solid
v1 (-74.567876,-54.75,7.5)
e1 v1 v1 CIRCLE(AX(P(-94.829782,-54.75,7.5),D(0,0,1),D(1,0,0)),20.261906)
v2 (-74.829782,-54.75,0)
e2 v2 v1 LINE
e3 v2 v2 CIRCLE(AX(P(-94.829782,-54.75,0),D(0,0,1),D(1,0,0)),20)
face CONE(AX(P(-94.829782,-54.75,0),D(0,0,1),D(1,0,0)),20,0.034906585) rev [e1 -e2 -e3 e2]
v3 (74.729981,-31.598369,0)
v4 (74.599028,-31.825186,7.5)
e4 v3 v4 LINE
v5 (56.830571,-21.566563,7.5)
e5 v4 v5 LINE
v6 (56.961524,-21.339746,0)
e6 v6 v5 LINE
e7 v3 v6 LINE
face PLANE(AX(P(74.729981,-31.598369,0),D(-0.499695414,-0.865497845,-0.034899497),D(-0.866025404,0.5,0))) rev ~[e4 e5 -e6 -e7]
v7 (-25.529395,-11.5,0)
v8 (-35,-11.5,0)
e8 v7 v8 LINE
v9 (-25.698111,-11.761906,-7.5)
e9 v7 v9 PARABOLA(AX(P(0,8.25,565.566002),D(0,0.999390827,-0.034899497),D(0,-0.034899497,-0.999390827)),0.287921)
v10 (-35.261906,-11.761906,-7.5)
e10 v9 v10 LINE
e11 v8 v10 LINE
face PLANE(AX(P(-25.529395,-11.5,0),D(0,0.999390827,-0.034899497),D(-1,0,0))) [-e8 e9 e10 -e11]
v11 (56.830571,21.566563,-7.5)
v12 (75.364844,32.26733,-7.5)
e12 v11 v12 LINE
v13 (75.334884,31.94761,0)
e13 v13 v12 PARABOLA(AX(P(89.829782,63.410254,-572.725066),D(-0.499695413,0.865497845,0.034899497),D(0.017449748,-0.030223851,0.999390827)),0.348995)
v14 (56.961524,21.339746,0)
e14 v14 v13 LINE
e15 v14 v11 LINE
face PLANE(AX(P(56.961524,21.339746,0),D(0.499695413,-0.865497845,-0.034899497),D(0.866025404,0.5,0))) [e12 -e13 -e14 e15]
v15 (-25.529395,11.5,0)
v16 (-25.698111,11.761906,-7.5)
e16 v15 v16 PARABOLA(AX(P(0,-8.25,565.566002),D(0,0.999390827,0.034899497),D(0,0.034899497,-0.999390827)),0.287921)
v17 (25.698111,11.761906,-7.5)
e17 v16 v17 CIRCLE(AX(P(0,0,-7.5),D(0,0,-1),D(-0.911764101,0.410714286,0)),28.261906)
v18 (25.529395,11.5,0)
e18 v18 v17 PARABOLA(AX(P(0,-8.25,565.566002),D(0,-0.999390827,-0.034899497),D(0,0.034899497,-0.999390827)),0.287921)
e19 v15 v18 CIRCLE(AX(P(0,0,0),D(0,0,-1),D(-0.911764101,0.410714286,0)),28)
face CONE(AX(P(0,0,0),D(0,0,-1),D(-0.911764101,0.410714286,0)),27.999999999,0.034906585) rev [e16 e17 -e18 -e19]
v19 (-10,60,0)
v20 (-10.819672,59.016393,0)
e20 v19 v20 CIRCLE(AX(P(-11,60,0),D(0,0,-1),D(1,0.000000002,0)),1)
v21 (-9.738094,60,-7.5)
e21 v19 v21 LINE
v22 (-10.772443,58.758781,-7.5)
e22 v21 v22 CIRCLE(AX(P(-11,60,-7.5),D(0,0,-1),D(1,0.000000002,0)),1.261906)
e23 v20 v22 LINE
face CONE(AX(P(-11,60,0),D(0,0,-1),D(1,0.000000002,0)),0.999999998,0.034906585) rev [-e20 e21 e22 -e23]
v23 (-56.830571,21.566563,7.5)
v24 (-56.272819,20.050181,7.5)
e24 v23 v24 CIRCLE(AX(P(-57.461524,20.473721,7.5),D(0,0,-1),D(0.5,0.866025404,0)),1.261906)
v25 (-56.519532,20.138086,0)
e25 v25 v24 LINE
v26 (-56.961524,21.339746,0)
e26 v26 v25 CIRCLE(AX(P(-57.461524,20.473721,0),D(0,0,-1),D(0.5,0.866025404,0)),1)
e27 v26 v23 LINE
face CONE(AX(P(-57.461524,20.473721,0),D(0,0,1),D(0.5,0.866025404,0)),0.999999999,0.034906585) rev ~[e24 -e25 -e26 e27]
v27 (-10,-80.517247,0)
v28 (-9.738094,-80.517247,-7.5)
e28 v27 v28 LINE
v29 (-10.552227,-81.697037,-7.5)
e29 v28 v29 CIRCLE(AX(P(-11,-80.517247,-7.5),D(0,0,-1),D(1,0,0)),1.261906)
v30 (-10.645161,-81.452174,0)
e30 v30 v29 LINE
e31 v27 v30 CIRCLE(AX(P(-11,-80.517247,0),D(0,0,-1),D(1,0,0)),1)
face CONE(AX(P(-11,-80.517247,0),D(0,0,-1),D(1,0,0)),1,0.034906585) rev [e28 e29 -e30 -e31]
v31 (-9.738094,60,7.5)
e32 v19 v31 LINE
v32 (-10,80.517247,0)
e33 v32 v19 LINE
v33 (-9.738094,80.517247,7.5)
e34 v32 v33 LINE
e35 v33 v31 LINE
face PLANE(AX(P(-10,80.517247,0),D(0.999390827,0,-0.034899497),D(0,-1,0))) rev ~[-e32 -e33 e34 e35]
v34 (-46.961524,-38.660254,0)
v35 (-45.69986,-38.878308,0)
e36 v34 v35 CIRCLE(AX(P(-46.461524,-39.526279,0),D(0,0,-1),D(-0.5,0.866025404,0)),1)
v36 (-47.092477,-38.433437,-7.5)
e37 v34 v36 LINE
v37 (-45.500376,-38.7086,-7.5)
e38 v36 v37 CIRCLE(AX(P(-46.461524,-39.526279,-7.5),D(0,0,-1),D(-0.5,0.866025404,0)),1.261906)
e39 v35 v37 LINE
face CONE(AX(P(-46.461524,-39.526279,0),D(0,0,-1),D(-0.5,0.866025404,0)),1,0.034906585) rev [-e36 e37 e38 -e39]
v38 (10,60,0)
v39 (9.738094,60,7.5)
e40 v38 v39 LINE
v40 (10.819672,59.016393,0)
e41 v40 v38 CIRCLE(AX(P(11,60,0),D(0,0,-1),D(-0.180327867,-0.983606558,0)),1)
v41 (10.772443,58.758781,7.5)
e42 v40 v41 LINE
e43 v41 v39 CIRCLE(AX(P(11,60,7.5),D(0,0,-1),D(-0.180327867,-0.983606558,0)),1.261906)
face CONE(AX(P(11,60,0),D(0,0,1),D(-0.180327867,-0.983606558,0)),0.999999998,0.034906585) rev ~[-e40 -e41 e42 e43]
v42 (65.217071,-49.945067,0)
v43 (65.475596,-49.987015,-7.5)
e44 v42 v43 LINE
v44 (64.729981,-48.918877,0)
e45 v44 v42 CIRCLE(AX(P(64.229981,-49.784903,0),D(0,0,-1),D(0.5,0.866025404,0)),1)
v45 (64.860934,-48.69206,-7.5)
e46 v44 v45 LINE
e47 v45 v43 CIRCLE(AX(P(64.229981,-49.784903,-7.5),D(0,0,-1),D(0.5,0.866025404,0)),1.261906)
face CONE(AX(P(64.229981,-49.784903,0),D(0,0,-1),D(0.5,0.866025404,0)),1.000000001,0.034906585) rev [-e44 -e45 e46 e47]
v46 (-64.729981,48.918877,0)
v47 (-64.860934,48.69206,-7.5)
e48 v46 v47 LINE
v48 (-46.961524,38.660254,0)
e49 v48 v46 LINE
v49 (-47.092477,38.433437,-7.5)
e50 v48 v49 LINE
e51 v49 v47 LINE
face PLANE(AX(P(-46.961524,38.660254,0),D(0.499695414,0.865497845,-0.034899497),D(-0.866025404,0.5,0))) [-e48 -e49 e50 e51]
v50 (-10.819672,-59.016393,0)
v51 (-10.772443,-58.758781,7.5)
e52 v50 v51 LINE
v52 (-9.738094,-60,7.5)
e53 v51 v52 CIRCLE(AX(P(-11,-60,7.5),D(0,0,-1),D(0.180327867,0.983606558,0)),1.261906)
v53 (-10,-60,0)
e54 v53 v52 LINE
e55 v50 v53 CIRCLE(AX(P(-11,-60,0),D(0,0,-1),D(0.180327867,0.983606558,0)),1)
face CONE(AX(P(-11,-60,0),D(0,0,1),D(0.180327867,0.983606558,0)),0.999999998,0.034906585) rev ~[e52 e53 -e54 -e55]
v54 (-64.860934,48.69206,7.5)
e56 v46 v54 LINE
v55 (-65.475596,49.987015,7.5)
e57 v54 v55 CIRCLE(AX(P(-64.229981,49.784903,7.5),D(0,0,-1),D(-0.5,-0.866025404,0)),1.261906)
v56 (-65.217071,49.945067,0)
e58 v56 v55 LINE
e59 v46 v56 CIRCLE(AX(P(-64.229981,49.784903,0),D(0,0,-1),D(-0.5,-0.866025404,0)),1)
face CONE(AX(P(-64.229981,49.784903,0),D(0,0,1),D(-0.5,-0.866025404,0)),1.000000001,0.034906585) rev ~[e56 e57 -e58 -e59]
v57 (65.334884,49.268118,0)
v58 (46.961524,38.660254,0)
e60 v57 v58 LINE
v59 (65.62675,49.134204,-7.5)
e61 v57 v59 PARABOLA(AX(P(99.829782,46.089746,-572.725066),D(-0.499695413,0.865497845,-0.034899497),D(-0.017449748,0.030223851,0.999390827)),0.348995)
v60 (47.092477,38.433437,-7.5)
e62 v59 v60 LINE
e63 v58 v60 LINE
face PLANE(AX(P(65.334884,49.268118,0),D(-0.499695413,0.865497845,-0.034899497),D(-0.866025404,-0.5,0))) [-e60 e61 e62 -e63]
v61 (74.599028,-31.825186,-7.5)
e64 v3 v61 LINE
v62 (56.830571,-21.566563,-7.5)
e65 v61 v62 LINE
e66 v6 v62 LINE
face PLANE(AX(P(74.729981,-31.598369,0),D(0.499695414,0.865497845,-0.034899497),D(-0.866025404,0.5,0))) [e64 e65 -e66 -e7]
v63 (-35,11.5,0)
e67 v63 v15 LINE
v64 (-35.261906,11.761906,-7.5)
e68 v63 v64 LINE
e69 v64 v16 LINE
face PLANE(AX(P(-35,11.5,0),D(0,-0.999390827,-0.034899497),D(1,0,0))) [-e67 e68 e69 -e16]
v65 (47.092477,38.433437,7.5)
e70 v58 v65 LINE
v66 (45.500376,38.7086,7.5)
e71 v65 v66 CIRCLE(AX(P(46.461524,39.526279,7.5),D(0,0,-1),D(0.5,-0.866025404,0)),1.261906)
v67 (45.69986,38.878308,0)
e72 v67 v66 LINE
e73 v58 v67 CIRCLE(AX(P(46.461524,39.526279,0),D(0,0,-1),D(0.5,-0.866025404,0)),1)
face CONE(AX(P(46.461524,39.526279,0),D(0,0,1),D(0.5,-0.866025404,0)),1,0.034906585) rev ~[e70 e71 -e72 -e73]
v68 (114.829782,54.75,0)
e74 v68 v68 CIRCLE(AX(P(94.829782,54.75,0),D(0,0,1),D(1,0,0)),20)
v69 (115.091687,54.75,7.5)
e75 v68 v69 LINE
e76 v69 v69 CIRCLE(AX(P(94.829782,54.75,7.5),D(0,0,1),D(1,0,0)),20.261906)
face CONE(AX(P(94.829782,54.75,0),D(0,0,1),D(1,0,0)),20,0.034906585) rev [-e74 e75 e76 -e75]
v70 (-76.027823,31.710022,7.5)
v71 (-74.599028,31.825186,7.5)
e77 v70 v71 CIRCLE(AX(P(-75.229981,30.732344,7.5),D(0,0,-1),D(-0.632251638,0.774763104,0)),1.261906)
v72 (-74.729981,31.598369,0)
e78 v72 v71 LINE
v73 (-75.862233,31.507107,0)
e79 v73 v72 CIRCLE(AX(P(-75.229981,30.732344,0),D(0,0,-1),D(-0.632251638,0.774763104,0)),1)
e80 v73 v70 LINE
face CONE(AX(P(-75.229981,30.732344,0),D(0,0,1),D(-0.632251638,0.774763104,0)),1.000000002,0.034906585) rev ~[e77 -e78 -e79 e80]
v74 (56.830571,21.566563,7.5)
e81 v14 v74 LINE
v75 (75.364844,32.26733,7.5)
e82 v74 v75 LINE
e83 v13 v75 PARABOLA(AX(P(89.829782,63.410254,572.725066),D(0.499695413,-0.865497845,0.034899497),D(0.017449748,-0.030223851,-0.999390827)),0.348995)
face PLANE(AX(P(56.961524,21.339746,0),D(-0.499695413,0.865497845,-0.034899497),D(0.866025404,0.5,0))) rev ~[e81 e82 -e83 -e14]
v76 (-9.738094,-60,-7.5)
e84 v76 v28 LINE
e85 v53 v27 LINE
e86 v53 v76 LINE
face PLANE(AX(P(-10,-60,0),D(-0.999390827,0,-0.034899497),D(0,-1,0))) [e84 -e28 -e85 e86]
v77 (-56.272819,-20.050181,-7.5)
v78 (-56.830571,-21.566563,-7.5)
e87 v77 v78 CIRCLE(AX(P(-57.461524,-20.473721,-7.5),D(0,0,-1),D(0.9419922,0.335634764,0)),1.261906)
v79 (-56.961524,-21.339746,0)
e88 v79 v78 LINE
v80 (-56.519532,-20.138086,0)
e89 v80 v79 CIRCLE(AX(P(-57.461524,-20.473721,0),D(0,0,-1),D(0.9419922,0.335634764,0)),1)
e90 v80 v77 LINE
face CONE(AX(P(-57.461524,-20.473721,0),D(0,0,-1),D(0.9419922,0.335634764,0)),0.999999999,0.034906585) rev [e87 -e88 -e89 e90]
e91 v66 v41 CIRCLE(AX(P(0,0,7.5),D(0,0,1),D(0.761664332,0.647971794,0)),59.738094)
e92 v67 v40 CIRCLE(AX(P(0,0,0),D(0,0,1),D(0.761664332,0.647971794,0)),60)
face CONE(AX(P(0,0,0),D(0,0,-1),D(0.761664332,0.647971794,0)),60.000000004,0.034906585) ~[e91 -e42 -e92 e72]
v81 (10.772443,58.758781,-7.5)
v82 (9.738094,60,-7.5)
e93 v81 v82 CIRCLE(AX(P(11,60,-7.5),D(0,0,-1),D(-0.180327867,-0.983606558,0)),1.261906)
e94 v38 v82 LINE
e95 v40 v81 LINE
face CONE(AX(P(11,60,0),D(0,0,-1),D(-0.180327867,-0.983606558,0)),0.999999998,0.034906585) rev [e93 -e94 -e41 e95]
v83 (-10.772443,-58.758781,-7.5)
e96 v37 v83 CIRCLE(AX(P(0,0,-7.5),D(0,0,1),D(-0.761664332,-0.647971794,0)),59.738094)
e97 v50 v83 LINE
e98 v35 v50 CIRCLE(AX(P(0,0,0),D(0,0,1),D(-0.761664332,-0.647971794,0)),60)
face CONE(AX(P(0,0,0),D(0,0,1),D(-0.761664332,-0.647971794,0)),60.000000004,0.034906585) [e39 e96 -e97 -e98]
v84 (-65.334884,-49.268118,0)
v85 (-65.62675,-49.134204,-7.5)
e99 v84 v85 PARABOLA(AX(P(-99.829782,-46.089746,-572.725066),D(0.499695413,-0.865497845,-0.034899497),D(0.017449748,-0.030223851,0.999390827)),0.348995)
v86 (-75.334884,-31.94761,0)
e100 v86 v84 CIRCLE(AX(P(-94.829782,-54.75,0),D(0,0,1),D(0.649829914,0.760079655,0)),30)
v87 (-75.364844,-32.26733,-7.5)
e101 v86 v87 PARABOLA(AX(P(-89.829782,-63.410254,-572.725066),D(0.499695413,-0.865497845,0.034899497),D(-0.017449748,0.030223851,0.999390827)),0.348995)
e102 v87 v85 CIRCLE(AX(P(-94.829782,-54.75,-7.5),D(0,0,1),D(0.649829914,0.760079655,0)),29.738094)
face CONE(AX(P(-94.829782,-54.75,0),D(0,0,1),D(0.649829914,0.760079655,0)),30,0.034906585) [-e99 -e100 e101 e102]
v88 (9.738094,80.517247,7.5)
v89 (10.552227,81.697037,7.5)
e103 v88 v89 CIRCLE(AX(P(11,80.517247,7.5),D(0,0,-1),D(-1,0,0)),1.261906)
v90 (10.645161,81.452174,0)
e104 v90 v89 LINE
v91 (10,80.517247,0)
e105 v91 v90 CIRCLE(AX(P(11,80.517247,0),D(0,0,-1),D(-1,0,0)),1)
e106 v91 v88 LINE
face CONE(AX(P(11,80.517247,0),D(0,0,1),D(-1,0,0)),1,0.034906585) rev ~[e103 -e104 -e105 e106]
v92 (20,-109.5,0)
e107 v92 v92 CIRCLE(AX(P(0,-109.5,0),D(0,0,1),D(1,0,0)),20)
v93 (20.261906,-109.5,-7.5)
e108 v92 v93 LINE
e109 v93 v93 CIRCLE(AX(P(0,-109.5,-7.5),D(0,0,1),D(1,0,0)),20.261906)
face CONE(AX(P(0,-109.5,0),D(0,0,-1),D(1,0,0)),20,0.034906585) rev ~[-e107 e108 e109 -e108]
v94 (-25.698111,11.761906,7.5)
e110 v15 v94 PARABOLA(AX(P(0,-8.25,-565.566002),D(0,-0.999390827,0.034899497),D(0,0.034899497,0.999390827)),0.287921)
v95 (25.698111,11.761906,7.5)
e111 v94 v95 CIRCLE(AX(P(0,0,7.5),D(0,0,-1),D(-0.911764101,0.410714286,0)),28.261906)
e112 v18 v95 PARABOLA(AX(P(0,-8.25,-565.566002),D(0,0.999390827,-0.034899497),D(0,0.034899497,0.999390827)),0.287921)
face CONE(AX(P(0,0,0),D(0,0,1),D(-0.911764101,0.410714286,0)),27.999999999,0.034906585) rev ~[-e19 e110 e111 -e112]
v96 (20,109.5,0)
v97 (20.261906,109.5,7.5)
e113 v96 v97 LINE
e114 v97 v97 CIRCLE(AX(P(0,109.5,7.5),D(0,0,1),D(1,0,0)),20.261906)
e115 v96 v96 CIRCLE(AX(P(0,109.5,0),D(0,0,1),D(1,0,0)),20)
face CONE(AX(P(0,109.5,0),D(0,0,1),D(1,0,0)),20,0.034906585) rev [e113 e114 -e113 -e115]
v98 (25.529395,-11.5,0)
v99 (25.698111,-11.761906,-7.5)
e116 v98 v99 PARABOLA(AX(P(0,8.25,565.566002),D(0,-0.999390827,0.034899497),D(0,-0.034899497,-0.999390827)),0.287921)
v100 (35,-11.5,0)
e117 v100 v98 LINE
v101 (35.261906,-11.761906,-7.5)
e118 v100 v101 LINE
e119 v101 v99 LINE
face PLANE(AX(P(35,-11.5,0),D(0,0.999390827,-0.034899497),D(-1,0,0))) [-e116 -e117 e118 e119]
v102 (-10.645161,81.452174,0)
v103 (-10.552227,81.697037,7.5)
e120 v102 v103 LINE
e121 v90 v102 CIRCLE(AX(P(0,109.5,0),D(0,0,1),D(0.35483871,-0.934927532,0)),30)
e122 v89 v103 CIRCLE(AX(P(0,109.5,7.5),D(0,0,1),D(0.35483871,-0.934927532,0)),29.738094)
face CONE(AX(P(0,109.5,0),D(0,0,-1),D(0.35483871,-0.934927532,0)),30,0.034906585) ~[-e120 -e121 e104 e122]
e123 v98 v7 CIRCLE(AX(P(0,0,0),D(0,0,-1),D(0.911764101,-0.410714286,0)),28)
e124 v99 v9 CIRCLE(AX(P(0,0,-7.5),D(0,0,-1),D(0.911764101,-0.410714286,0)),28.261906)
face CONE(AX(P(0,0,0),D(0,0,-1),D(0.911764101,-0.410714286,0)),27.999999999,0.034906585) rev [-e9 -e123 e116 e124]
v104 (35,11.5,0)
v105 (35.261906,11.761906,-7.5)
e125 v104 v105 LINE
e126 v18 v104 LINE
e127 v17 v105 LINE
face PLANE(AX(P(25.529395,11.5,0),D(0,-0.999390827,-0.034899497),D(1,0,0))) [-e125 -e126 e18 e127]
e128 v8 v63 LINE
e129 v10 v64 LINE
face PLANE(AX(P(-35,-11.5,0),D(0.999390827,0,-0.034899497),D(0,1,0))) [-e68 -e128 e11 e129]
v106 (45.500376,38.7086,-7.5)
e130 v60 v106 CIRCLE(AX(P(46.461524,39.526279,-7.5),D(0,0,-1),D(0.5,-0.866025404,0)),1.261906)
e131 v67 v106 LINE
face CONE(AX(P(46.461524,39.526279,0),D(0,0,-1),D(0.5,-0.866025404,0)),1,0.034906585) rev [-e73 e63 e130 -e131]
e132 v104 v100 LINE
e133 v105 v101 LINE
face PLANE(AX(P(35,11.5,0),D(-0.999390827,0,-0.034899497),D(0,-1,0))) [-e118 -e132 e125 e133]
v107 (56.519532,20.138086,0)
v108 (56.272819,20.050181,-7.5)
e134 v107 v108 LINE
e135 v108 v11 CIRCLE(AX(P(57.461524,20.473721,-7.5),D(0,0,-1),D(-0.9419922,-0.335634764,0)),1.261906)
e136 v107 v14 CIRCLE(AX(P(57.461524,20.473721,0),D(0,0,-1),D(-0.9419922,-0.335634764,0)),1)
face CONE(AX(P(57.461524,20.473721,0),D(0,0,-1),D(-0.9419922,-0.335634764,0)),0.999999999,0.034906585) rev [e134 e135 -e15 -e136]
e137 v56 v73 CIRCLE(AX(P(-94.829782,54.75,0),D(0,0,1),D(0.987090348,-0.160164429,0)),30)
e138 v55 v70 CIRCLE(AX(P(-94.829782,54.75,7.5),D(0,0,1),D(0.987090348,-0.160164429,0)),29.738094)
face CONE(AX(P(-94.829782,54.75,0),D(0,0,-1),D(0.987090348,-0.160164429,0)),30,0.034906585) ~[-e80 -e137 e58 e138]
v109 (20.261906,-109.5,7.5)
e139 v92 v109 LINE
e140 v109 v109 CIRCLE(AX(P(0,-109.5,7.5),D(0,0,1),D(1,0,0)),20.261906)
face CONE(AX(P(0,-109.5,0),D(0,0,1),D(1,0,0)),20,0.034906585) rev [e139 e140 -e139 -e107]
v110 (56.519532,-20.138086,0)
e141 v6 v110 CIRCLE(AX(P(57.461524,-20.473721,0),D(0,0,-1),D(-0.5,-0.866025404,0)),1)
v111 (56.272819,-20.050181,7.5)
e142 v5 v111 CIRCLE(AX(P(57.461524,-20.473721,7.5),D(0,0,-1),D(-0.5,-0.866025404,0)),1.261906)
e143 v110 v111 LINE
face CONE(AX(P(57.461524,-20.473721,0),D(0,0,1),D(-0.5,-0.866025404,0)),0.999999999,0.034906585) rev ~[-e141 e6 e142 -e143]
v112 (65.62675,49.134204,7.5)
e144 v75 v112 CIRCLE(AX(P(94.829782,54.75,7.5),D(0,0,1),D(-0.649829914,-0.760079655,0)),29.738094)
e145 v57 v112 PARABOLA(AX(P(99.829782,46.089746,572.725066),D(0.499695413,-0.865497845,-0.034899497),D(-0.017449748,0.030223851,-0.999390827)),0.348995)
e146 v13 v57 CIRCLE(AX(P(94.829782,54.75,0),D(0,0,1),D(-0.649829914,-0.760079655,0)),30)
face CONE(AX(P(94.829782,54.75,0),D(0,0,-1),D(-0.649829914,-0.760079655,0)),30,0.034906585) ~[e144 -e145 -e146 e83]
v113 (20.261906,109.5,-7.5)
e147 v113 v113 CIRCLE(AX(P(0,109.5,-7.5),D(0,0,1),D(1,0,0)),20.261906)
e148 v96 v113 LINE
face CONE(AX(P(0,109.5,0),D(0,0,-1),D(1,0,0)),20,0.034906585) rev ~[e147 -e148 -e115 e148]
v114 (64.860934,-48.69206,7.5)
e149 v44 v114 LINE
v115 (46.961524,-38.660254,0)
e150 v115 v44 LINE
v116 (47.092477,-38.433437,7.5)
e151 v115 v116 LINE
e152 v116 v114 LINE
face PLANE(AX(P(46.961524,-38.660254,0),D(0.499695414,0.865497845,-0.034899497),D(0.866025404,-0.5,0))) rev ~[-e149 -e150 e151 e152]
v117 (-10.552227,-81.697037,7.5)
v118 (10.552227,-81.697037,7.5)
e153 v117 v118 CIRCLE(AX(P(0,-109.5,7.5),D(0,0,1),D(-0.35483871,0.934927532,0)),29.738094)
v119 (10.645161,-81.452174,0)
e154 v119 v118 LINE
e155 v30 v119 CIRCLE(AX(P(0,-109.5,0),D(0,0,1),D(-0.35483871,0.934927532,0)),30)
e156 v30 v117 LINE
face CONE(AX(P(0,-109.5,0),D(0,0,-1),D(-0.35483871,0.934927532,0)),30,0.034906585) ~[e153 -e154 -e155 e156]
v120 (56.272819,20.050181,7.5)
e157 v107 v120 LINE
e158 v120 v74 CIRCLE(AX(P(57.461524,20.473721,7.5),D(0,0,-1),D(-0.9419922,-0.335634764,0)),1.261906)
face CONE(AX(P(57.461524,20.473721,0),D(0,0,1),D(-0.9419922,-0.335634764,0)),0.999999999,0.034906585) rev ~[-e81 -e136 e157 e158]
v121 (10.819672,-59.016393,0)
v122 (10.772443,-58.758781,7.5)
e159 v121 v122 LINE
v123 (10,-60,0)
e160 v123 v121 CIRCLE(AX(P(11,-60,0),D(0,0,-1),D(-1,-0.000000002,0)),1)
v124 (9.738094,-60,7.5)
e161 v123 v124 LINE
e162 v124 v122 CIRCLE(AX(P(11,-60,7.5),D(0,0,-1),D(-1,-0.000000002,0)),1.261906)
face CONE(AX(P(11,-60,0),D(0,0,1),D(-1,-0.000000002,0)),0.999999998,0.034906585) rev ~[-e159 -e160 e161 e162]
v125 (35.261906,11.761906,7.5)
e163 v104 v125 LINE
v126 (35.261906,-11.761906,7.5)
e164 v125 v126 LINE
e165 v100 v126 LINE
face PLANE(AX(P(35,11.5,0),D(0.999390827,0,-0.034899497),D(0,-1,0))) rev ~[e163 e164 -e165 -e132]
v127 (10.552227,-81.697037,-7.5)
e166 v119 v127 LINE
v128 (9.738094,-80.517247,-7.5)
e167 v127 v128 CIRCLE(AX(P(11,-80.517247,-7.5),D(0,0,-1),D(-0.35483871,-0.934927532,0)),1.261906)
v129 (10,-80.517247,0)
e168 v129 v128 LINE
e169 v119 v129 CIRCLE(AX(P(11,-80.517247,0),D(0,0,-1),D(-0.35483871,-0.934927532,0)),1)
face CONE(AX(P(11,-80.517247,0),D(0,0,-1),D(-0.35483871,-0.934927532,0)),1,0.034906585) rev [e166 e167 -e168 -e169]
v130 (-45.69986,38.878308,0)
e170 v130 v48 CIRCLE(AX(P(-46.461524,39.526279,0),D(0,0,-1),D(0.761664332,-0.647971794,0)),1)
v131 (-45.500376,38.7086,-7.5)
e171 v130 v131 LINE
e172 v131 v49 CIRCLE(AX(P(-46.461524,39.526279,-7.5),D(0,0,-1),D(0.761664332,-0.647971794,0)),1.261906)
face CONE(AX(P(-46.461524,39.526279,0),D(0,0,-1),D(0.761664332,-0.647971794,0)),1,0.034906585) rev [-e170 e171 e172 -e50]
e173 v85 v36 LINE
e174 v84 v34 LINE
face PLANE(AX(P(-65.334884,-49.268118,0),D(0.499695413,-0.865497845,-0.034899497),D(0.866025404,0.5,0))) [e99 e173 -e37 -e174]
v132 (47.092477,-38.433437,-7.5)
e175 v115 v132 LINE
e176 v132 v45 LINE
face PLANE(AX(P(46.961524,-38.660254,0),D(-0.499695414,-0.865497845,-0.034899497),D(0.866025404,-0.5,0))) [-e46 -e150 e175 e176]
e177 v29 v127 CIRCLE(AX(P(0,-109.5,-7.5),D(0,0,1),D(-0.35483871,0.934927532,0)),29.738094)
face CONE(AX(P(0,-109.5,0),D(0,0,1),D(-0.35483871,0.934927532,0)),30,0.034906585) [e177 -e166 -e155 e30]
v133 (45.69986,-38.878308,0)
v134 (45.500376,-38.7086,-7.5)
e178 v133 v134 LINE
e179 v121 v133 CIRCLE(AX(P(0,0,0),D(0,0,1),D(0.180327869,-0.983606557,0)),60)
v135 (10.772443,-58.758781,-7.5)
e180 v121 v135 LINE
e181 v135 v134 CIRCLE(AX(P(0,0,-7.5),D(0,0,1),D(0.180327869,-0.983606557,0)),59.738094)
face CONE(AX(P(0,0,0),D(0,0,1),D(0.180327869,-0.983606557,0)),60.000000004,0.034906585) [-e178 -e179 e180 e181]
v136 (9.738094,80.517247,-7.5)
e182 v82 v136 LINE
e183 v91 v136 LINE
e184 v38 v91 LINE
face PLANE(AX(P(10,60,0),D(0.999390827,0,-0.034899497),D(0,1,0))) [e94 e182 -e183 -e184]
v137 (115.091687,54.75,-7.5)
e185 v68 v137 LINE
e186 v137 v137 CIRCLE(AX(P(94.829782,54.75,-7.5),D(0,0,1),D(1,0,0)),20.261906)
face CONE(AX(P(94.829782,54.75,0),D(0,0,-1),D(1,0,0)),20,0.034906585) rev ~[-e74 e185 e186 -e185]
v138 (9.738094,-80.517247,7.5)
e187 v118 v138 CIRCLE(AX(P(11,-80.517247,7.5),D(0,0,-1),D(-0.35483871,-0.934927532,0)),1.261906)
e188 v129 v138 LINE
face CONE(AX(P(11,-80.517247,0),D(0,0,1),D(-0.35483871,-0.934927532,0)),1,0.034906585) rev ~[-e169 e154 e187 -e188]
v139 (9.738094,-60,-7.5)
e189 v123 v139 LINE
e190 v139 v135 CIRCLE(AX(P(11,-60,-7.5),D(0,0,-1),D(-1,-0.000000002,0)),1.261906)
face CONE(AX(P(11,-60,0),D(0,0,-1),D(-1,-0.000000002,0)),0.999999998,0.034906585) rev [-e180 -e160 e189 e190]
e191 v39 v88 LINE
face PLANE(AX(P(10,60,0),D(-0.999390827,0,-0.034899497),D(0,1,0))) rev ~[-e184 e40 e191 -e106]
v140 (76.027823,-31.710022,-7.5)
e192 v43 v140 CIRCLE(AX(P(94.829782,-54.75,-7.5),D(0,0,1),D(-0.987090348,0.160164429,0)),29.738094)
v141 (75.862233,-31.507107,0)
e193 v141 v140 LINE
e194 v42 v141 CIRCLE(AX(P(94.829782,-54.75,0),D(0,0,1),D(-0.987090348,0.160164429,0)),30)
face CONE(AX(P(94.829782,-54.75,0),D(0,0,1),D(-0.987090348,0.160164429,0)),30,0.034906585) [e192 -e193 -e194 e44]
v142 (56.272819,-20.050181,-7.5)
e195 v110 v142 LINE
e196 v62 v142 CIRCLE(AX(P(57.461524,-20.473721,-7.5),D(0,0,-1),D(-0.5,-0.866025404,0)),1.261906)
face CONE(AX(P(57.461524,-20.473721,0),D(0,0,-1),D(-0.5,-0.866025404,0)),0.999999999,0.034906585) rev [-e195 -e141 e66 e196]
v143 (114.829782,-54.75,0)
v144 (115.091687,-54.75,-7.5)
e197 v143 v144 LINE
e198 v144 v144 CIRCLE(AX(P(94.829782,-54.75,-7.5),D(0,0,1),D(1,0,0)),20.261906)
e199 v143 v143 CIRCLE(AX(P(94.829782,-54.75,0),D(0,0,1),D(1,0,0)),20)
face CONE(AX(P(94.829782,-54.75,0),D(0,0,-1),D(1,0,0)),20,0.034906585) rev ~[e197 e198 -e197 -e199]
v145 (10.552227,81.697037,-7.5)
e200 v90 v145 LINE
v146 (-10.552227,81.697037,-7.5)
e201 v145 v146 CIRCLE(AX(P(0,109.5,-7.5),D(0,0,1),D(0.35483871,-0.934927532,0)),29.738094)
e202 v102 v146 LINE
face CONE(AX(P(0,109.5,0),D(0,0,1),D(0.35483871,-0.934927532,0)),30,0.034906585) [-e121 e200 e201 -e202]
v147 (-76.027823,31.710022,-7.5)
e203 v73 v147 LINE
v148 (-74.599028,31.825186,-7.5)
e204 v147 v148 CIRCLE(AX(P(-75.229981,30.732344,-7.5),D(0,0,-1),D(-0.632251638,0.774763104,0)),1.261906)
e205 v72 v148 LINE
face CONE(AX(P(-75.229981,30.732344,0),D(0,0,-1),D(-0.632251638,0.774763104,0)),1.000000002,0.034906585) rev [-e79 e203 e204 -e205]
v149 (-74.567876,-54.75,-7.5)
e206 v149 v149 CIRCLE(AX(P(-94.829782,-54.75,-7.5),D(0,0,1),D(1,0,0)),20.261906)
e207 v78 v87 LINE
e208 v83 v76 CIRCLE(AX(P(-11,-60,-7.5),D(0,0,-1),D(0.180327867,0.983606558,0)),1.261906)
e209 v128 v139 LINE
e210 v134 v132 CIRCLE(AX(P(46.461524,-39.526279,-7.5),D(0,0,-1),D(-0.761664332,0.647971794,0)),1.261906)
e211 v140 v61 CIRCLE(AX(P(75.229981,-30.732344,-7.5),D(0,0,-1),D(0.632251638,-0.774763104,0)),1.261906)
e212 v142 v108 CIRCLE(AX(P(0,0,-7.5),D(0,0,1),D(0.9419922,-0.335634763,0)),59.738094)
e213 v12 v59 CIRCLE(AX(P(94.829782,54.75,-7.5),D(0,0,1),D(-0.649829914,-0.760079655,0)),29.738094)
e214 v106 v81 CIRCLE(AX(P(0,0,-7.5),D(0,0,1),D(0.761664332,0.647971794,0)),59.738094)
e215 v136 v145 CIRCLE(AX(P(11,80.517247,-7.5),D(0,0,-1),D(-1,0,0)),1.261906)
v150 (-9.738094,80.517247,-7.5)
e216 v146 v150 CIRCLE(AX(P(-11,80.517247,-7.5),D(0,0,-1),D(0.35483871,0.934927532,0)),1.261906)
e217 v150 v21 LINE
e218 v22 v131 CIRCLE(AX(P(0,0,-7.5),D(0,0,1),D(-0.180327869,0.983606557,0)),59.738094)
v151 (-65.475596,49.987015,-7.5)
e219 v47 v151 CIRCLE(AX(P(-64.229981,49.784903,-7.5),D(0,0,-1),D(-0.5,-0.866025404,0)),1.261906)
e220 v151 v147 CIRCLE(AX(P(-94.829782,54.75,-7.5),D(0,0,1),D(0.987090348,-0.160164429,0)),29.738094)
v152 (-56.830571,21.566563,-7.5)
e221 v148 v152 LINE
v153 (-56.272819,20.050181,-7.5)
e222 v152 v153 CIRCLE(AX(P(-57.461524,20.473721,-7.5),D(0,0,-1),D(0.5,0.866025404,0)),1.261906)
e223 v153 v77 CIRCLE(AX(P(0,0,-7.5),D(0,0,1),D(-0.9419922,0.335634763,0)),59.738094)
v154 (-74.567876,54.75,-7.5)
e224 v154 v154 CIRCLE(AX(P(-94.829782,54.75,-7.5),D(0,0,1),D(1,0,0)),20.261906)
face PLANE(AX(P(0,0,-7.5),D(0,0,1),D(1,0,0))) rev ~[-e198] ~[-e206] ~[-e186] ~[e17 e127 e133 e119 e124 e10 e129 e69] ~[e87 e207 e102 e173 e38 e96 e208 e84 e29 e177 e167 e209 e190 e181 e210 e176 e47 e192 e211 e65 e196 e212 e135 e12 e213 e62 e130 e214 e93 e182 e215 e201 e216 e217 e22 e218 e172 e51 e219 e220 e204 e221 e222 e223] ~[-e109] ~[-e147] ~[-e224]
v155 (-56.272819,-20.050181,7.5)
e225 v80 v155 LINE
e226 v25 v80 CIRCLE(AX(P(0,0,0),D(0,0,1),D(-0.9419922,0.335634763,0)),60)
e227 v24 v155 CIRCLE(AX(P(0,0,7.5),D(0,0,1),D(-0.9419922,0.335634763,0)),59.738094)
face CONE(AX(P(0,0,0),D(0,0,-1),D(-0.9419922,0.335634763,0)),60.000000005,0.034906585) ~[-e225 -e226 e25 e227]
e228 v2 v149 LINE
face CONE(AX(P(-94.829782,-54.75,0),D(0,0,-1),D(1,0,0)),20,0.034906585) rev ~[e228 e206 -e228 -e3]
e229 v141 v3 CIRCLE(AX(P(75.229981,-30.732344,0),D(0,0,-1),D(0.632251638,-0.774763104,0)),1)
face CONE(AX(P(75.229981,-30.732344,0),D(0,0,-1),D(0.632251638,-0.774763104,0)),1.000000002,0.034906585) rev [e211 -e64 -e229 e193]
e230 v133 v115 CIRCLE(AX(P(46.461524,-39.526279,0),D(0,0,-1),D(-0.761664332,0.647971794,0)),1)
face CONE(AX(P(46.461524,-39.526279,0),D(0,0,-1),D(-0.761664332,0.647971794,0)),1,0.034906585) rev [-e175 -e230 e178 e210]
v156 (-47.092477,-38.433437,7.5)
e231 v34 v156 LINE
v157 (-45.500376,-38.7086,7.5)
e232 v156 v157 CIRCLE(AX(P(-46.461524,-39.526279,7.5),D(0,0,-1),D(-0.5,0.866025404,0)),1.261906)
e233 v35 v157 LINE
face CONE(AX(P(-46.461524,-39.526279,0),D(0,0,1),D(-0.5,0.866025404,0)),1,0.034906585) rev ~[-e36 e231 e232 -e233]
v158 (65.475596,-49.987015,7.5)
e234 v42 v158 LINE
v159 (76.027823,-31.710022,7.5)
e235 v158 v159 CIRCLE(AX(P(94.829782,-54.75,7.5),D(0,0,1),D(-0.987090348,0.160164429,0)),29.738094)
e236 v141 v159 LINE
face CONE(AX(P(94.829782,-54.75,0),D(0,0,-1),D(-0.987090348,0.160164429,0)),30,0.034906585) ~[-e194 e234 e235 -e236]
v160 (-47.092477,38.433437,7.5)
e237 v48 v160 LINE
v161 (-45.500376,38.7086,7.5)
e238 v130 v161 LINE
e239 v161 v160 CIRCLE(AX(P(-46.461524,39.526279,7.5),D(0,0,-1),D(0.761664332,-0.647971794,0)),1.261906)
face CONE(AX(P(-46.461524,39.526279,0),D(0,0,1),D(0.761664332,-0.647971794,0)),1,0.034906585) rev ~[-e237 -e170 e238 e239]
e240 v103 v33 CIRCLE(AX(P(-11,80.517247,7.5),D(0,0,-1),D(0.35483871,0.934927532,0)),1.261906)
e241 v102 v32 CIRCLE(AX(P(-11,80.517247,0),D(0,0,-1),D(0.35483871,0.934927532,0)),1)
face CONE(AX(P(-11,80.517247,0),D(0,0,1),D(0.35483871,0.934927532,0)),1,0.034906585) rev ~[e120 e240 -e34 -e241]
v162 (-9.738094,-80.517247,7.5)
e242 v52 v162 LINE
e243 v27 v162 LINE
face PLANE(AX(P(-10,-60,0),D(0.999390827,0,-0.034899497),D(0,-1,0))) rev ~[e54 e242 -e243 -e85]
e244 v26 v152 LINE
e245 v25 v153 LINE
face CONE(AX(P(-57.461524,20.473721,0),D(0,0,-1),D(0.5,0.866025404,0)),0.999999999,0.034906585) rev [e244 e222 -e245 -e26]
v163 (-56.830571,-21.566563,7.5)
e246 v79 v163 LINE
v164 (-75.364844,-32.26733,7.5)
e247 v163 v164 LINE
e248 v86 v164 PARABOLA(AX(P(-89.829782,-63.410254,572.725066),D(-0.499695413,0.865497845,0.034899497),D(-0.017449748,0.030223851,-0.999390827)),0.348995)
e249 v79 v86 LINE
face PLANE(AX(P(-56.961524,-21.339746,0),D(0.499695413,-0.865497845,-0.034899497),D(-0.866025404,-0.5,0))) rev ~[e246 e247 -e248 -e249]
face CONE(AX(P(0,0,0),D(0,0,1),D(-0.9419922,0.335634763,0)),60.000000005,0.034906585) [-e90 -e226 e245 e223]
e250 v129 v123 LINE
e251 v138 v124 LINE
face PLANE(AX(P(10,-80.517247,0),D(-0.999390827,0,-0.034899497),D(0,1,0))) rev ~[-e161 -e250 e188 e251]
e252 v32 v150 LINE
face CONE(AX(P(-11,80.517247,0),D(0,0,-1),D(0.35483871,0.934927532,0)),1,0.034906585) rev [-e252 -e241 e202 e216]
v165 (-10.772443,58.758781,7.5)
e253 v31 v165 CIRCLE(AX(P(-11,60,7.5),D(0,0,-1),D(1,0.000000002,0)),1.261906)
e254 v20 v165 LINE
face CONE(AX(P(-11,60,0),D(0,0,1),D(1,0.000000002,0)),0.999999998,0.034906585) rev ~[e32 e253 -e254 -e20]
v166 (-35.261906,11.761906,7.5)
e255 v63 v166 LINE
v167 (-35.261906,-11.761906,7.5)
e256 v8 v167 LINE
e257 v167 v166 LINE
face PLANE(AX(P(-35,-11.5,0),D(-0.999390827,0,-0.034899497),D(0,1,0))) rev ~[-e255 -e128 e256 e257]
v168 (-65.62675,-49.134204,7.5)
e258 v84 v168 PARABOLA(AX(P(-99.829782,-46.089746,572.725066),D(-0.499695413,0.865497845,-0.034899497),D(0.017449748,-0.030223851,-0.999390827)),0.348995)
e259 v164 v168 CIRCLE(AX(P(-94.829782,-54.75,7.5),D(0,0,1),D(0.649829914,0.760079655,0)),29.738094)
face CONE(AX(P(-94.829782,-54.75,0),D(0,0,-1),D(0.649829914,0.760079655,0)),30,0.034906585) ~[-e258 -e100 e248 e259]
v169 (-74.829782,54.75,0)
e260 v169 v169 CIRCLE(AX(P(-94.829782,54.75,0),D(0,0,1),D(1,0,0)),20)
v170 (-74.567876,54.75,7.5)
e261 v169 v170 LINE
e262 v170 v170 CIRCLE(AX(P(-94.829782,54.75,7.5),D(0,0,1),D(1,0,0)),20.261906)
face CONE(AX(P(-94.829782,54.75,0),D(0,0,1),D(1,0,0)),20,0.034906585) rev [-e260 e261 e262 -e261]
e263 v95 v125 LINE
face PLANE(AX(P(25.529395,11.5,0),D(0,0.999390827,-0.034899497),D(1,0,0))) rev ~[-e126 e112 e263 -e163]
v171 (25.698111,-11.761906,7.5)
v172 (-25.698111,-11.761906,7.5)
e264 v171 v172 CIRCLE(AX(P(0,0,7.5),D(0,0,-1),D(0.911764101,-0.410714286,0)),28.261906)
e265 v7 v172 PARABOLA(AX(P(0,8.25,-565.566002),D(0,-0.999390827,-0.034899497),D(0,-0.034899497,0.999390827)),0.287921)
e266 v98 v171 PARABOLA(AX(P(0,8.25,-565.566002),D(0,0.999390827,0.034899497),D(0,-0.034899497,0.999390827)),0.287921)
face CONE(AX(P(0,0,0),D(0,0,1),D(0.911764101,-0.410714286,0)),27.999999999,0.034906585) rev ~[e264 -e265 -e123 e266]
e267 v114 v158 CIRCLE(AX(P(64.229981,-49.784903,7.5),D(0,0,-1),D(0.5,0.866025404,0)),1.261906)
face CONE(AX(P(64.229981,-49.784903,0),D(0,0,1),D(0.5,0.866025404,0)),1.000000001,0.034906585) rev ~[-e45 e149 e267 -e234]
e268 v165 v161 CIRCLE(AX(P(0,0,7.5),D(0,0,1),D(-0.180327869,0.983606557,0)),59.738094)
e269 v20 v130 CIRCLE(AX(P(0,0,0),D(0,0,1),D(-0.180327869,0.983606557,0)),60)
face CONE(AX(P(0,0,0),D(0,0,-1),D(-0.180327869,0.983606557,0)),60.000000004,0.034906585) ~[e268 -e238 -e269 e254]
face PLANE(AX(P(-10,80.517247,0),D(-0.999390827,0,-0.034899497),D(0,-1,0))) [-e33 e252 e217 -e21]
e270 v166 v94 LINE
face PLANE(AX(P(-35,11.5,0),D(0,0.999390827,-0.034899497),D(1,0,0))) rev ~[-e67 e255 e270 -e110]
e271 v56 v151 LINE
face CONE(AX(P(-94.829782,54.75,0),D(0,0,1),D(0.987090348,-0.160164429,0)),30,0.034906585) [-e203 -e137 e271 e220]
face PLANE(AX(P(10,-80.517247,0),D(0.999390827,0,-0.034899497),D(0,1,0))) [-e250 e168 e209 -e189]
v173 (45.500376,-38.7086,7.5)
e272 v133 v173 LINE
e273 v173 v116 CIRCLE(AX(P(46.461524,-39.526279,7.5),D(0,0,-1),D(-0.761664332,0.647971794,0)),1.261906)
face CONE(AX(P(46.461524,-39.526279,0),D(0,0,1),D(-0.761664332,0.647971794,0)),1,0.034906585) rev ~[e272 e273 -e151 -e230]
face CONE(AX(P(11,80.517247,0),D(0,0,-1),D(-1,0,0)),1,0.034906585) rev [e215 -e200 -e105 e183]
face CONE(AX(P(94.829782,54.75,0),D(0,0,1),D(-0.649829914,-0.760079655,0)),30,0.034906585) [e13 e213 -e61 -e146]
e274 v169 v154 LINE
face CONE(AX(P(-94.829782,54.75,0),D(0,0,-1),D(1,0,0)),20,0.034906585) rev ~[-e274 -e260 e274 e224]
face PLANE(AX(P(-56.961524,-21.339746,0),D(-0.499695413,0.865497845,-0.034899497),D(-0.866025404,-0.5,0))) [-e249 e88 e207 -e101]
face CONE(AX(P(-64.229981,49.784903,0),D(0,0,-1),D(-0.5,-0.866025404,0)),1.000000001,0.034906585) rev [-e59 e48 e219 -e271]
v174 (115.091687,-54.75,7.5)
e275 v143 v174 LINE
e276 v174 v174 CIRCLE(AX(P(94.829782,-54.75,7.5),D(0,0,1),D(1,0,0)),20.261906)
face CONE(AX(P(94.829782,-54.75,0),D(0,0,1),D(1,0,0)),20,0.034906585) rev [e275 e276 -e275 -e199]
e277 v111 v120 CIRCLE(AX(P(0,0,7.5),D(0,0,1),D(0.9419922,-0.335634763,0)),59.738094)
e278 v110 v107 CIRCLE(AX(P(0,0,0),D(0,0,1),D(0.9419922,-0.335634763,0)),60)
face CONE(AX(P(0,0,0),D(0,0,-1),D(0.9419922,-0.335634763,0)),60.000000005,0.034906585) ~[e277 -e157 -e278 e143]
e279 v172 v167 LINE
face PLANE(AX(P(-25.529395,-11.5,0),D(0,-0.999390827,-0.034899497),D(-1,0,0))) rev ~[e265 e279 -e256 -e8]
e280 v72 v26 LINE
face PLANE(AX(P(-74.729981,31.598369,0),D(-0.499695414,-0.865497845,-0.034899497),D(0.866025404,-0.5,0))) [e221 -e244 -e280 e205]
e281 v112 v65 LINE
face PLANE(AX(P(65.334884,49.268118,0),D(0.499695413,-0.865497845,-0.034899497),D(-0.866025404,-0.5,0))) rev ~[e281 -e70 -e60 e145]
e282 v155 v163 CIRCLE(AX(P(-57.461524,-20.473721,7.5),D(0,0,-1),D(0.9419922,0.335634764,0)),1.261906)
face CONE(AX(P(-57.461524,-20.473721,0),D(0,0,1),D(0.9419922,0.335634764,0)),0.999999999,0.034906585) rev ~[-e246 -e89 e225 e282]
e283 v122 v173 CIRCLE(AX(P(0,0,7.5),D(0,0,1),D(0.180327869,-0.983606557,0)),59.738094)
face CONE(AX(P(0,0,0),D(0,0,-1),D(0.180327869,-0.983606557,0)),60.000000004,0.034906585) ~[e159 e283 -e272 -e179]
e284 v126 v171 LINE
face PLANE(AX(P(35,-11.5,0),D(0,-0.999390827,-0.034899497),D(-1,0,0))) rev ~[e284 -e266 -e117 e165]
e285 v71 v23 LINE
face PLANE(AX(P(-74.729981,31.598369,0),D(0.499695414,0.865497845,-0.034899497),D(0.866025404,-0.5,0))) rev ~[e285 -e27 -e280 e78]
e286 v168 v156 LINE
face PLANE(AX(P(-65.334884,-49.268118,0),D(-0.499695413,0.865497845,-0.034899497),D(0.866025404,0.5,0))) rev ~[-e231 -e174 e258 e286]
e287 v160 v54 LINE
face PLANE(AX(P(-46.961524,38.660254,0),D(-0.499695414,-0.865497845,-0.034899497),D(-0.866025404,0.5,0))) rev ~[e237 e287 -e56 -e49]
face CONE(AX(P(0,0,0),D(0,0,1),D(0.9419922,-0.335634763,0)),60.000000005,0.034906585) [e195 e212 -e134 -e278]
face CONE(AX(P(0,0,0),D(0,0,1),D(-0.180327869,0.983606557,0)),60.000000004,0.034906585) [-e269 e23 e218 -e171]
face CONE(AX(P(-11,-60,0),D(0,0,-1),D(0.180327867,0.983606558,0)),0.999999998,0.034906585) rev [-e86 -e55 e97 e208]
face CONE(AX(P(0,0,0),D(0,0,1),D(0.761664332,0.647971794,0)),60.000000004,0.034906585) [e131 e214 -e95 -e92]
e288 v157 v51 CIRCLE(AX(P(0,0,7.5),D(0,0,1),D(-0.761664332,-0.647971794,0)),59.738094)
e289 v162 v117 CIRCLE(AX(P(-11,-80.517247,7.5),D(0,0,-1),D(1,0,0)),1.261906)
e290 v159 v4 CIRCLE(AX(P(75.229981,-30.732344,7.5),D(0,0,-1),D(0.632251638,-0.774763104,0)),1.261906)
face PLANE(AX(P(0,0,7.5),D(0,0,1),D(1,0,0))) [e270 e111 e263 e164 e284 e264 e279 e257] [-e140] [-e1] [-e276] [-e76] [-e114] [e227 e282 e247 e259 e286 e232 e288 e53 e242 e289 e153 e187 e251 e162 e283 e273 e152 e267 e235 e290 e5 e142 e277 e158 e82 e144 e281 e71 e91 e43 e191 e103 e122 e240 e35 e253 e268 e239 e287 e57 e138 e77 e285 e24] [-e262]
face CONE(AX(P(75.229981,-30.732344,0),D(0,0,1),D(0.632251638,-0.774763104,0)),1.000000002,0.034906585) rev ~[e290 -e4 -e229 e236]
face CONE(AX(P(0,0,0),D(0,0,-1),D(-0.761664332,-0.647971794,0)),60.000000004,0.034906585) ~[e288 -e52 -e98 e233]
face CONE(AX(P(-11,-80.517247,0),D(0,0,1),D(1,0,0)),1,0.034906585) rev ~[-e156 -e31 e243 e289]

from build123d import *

# Parameters (mm, degrees)
SKETCH1_R                     = 20
BOSS_EXTRUDE1_DEPTH           = 7.5
BOSS_EXTRUDE1_DRAFT           = 2
BOSS_EXTRUDE1_OTHER_WAY_DEPTH = 7.5
BOSS_EXTRUDE1_OTHER_WAY_DRAFT = -2


with BuildPart() as part:
    # Sketch1 → Boss-Extrude1 (with draft: the straight prism first)
    with BuildSketch(Plane.XY):
        with BuildLine():
            Line((-10, 80.517246508), (-10, 60))
            ThreePointArc((-10, 60), (-10.23177872, 59.3598156), (-10.819672131, 59.016393443))
            ThreePointArc((-10.819672131, 59.016393443), (-30, 51.961524227), (-45.699859895, 38.878307648))
            ThreePointArc((-45.699859895, 38.878307648), (-46.291218914, 38.540888098), (-46.961524227, 38.660254038))
            Line((-46.961524227, 38.660254038), (-64.729980918, 48.918877292))
            ThreePointArc((-64.729980918, 48.918877292), (-65.133377741, 49.356097168), (-65.217071267, 49.945067125))
            ThreePointArc((-65.217071267, 49.945067125), (-120.810543828, 69.75), (-75.862232557, 31.507106915))
            ThreePointArc((-75.862232557, 31.507106915), (-75.310322849, 31.729111174), (-74.729980918, 31.598369216))
            Line((-74.729980918, 31.598369216), (-56.961524227, 21.339745962))
            ThreePointArc((-56.961524227, 21.339745962), (-56.522997634, 20.818927502), (-56.519532027, 20.138085795))
            ThreePointArc((-56.519532027, 20.138085795), (-60, 0), (-56.519532027, -20.138085795))
            ThreePointArc((-56.519532027, -20.138085795), (-56.522997634, -20.818927502), (-56.961524227, -21.339745962))
            Line((-56.961524227, -21.339745962), (-75.334884287, -31.947610338))
            ThreePointArc((-75.334884287, -31.947610338), (-120.810543828, -69.75), (-65.334884287, -49.268118414))
            Line((-65.334884287, -49.268118414), (-46.961524227, -38.660254038))
            ThreePointArc((-46.961524227, -38.660254038), (-46.291218914, -38.540888098), (-45.699859895, -38.878307648))
            ThreePointArc((-45.699859895, -38.878307648), (-30, -51.961524227), (-10.819672131, -59.016393443))
            ThreePointArc((-10.819672131, -59.016393443), (-10.23177872, -59.3598156), (-10, -60))
            Line((-10, -60), (-10, -80.517246508))
            ThreePointArc((-10, -80.517246508), (-10.176945108, -81.085208342), (-10.64516129, -81.45217404))
            ThreePointArc((-10.64516129, -81.45217404), (0, -139.5), (10.64516129, -81.45217404))
            ThreePointArc((10.64516129, -81.45217404), (10.176945108, -81.085208342), (10, -80.517246508))
            Line((10, -80.517246508), (10, -60))
            ThreePointArc((10, -60), (10.23177872, -59.3598156), (10.819672131, -59.016393443))
            ThreePointArc((10.819672131, -59.016393443), (30, -51.961524227), (45.699859895, -38.878307648))
            ThreePointArc((45.699859895, -38.878307648), (46.291218914, -38.540888098), (46.961524227, -38.660254038))
            Line((46.961524227, -38.660254038), (64.729980918, -48.918877292))
            ThreePointArc((64.729980918, -48.918877292), (65.133377741, -49.356097168), (65.217071267, -49.945067125))
            ThreePointArc((65.217071267, -49.945067125), (120.810543828, -69.75), (75.862232557, -31.507106915))
            ThreePointArc((75.862232557, -31.507106915), (75.310322849, -31.729111174), (74.729980918, -31.598369216))
            Line((74.729980918, -31.598369216), (56.961524227, -21.339745962))
            ThreePointArc((56.961524227, -21.339745962), (56.522997634, -20.818927502), (56.519532027, -20.138085795))
            ThreePointArc((56.519532027, -20.138085795), (60, 0), (56.519532027, 20.138085795))
            ThreePointArc((56.519532027, 20.138085795), (56.522997634, 20.818927502), (56.961524227, 21.339745962))
            Line((56.961524227, 21.339745962), (75.334884287, 31.947610338))
            ThreePointArc((75.334884287, 31.947610338), (120.810543828, 69.75), (65.334884287, 49.268118414))
            Line((65.334884287, 49.268118414), (46.961524227, 38.660254038))
            ThreePointArc((46.961524227, 38.660254038), (46.291218914, 38.540888098), (45.699859895, 38.878307648))
            ThreePointArc((45.699859895, 38.878307648), (30, 51.961524227), (10.819672131, 59.016393443))
            ThreePointArc((10.819672131, 59.016393443), (10.23177872, 59.3598156), (10, 60))
            Line((10, 60), (10, 80.517246508))
            ThreePointArc((10, 80.517246508), (10.176945108, 81.085208342), (10.64516129, 81.45217404))
            ThreePointArc((10.64516129, 81.45217404), (0, 139.5), (-10.64516129, 81.45217404))
            ThreePointArc((-10.64516129, 81.45217404), (-10.176945108, 81.085208342), (-10, 80.517246508))
        make_face()
        with Locations((0, 109.5)):
            Circle(SKETCH1_R, mode=Mode.SUBTRACT)
        with Locations((94.829781714, 54.75)):
            Circle(SKETCH1_R, mode=Mode.SUBTRACT)
        with Locations((94.829781714, -54.75)):
            Circle(SKETCH1_R, mode=Mode.SUBTRACT)
        with Locations((0, -109.5)):
            Circle(SKETCH1_R, mode=Mode.SUBTRACT)
        with Locations((-94.829781714, -54.75)):
            Circle(SKETCH1_R, mode=Mode.SUBTRACT)
        with Locations((-94.829781714, 54.75)):
            Circle(SKETCH1_R, mode=Mode.SUBTRACT)
        with BuildLine():
            Line((-35, 11.5), (-25.529394822, 11.5))
            ThreePointArc((-25.529394822, 11.5), (0, 28), (25.529394822, 11.5))
            Line((25.529394822, 11.5), (35, 11.5))
            Line((35, 11.5), (35, -11.5))
            Line((35, -11.5), (25.529394822, -11.5))
            ThreePointArc((25.529394822, -11.5), (0, -28), (-25.529394822, -11.5))
            Line((-25.529394822, -11.5), (-35, -11.5))
            Line((-35, -11.5), (-35, 11.5))
        make_face(mode=Mode.SUBTRACT)
    extrude(amount=BOSS_EXTRUDE1_DEPTH)
    # Boss-Extrude1: the draft: its side faces are tilted about the plane it starts from
    boss_extrude1_sides = [part.faces().sort_by_distance(p)[0] for p in [
        (75.310322849, -31.729111174, 3.75),
        (65.845752573, -26.469057589, 3.75),
        (56.522997634, -20.818927502, 3.75),
        (60, 0, 3.75),
        (56.522997634, 20.818927502, 3.75),
        (66.148204257, 26.64367815, 3.75),
        (120.810543828, 69.75, 3.75),
        (56.148204257, 43.964186226, 3.75),
        (46.291218914, 38.540888098, 3.75),
        (30, 51.961524227, 3.75),
        (10.23177872, 59.3598156, 3.75),
        (10, 70.258623254, 3.75),
        (10.176945108, 81.085208342, 3.75),
        (0, 139.5, 3.75),
        (-10.176945108, 81.085208342, 3.75),
        (-10, 70.258623254, 3.75),
        (-10.23177872, 59.3598156, 3.75),
        (-30, 51.961524227, 3.75),
        (-46.291218914, 38.540888098, 3.75),
        (-55.845752573, 43.789565665, 3.75),
        (-65.133377741, 49.356097168, 3.75),
        (-120.810543828, 69.75, 3.75),
        (-75.310322849, 31.729111174, 3.75),
        (-65.845752573, 26.469057589, 3.75),
        (-56.522997634, 20.818927502, 3.75),
        (-60, 0, 3.75),
        (-56.522997634, -20.818927502, 3.75),
        (-66.148204257, -26.64367815, 3.75),
        (-120.810543828, -69.75, 3.75),
        (-56.148204257, -43.964186226, 3.75),
        (-46.291218914, -38.540888098, 3.75),
        (-30, -51.961524227, 3.75),
        (-10.23177872, -59.3598156, 3.75),
        (-10, -70.258623254, 3.75),
        (-10.176945108, -81.085208342, 3.75),
        (0, -139.5, 3.75),
        (10.176945108, -81.085208342, 3.75),
        (10, -70.258623254, 3.75),
        (10.23177872, -59.3598156, 3.75),
        (30, -51.961524227, 3.75),
        (46.291218914, -38.540888098, 3.75),
        (55.845752573, -43.789565665, 3.75),
        (65.133377741, -49.356097168, 3.75),
        (120.810543828, -69.75, 3.75),
        (-20, 109.5, 3.75),
        (74.829781714, 54.75, 3.75),
        (74.829781714, -54.75, 3.75),
        (-20, -109.5, 3.75),
        (-114.829781714, -54.75, 3.75),
        (-114.829781714, 54.75, 3.75),
        (-30.264697411, -11.5, 3.75),
        (-35, 0, 3.75),
        (-30.264697411, 11.5, 3.75),
        (0, 28, 3.75),
        (30.264697411, 11.5, 3.75),
        (35, 0, 3.75),
        (30.264697411, -11.5, 3.75),
        (0, -28, 3.75),
    ]]
    draft(boss_extrude1_sides, Plane.XY, BOSS_EXTRUDE1_DRAFT)


with BuildPart() as boss_extrude1_other_way_tool:
    # Sketch1 → Boss-Extrude1 other way (with draft: the straight prism first)
    with BuildSketch(Plane.XY):
        with BuildLine():
            Line((-10, 80.517246508), (-10, 60))
            ThreePointArc((-10, 60), (-10.23177872, 59.3598156), (-10.819672131, 59.016393443))
            ThreePointArc((-10.819672131, 59.016393443), (-30, 51.961524227), (-45.699859895, 38.878307648))
            ThreePointArc((-45.699859895, 38.878307648), (-46.291218914, 38.540888098), (-46.961524227, 38.660254038))
            Line((-46.961524227, 38.660254038), (-64.729980918, 48.918877292))
            ThreePointArc((-64.729980918, 48.918877292), (-65.133377741, 49.356097168), (-65.217071267, 49.945067125))
            ThreePointArc((-65.217071267, 49.945067125), (-120.810543828, 69.75), (-75.862232557, 31.507106915))
            ThreePointArc((-75.862232557, 31.507106915), (-75.310322849, 31.729111174), (-74.729980918, 31.598369216))
            Line((-74.729980918, 31.598369216), (-56.961524227, 21.339745962))
            ThreePointArc((-56.961524227, 21.339745962), (-56.522997634, 20.818927502), (-56.519532027, 20.138085795))
            ThreePointArc((-56.519532027, 20.138085795), (-60, 0), (-56.519532027, -20.138085795))
            ThreePointArc((-56.519532027, -20.138085795), (-56.522997634, -20.818927502), (-56.961524227, -21.339745962))
            Line((-56.961524227, -21.339745962), (-75.334884287, -31.947610338))
            ThreePointArc((-75.334884287, -31.947610338), (-120.810543828, -69.75), (-65.334884287, -49.268118414))
            Line((-65.334884287, -49.268118414), (-46.961524227, -38.660254038))
            ThreePointArc((-46.961524227, -38.660254038), (-46.291218914, -38.540888098), (-45.699859895, -38.878307648))
            ThreePointArc((-45.699859895, -38.878307648), (-30, -51.961524227), (-10.819672131, -59.016393443))
            ThreePointArc((-10.819672131, -59.016393443), (-10.23177872, -59.3598156), (-10, -60))
            Line((-10, -60), (-10, -80.517246508))
            ThreePointArc((-10, -80.517246508), (-10.176945108, -81.085208342), (-10.64516129, -81.45217404))
            ThreePointArc((-10.64516129, -81.45217404), (0, -139.5), (10.64516129, -81.45217404))
            ThreePointArc((10.64516129, -81.45217404), (10.176945108, -81.085208342), (10, -80.517246508))
            Line((10, -80.517246508), (10, -60))
            ThreePointArc((10, -60), (10.23177872, -59.3598156), (10.819672131, -59.016393443))
            ThreePointArc((10.819672131, -59.016393443), (30, -51.961524227), (45.699859895, -38.878307648))
            ThreePointArc((45.699859895, -38.878307648), (46.291218914, -38.540888098), (46.961524227, -38.660254038))
            Line((46.961524227, -38.660254038), (64.729980918, -48.918877292))
            ThreePointArc((64.729980918, -48.918877292), (65.133377741, -49.356097168), (65.217071267, -49.945067125))
            ThreePointArc((65.217071267, -49.945067125), (120.810543828, -69.75), (75.862232557, -31.507106915))
            ThreePointArc((75.862232557, -31.507106915), (75.310322849, -31.729111174), (74.729980918, -31.598369216))
            Line((74.729980918, -31.598369216), (56.961524227, -21.339745962))
            ThreePointArc((56.961524227, -21.339745962), (56.522997634, -20.818927502), (56.519532027, -20.138085795))
            ThreePointArc((56.519532027, -20.138085795), (60, 0), (56.519532027, 20.138085795))
            ThreePointArc((56.519532027, 20.138085795), (56.522997634, 20.818927502), (56.961524227, 21.339745962))
            Line((56.961524227, 21.339745962), (75.334884287, 31.947610338))
            ThreePointArc((75.334884287, 31.947610338), (120.810543828, 69.75), (65.334884287, 49.268118414))
            Line((65.334884287, 49.268118414), (46.961524227, 38.660254038))
            ThreePointArc((46.961524227, 38.660254038), (46.291218914, 38.540888098), (45.699859895, 38.878307648))
            ThreePointArc((45.699859895, 38.878307648), (30, 51.961524227), (10.819672131, 59.016393443))
            ThreePointArc((10.819672131, 59.016393443), (10.23177872, 59.3598156), (10, 60))
            Line((10, 60), (10, 80.517246508))
            ThreePointArc((10, 80.517246508), (10.176945108, 81.085208342), (10.64516129, 81.45217404))
            ThreePointArc((10.64516129, 81.45217404), (0, 139.5), (-10.64516129, 81.45217404))
            ThreePointArc((-10.64516129, 81.45217404), (-10.176945108, 81.085208342), (-10, 80.517246508))
        make_face()
        with Locations((0, 109.5)):
            Circle(SKETCH1_R, mode=Mode.SUBTRACT)
        with Locations((94.829781714, 54.75)):
            Circle(SKETCH1_R, mode=Mode.SUBTRACT)
        with Locations((94.829781714, -54.75)):
            Circle(SKETCH1_R, mode=Mode.SUBTRACT)
        with Locations((0, -109.5)):
            Circle(SKETCH1_R, mode=Mode.SUBTRACT)
        with Locations((-94.829781714, -54.75)):
            Circle(SKETCH1_R, mode=Mode.SUBTRACT)
        with Locations((-94.829781714, 54.75)):
            Circle(SKETCH1_R, mode=Mode.SUBTRACT)
        with BuildLine():
            Line((-35, 11.5), (-25.529394822, 11.5))
            ThreePointArc((-25.529394822, 11.5), (0, 28), (25.529394822, 11.5))
            Line((25.529394822, 11.5), (35, 11.5))
            Line((35, 11.5), (35, -11.5))
            Line((35, -11.5), (25.529394822, -11.5))
            ThreePointArc((25.529394822, -11.5), (0, -28), (-25.529394822, -11.5))
            Line((-25.529394822, -11.5), (-35, -11.5))
            Line((-35, -11.5), (-35, 11.5))
        make_face(mode=Mode.SUBTRACT)
    extrude(amount=-BOSS_EXTRUDE1_OTHER_WAY_DEPTH)
    # Boss-Extrude1 other way: the draft: its side faces are tilted about the plane it starts from
    boss_extrude1_other_way_sides = [boss_extrude1_other_way_tool.faces().sort_by_distance(p)[0] for p in [
        (75.310322849, -31.729111174, -3.75),
        (65.845752573, -26.469057589, -3.75),
        (56.522997634, -20.818927502, -3.75),
        (60, 0, -3.75),
        (56.522997634, 20.818927502, -3.75),
        (66.148204257, 26.64367815, -3.75),
        (120.810543828, 69.75, -3.75),
        (56.148204257, 43.964186226, -3.75),
        (46.291218914, 38.540888098, -3.75),
        (30, 51.961524227, -3.75),
        (10.23177872, 59.3598156, -3.75),
        (10, 70.258623254, -3.75),
        (10.176945108, 81.085208342, -3.75),
        (0, 139.5, -3.75),
        (-10.176945108, 81.085208342, -3.75),
        (-10, 70.258623254, -3.75),
        (-10.23177872, 59.3598156, -3.75),
        (-30, 51.961524227, -3.75),
        (-46.291218914, 38.540888098, -3.75),
        (-55.845752573, 43.789565665, -3.75),
        (-65.133377741, 49.356097168, -3.75),
        (-120.810543828, 69.75, -3.75),
        (-75.310322849, 31.729111174, -3.75),
        (-65.845752573, 26.469057589, -3.75),
        (-56.522997634, 20.818927502, -3.75),
        (-60, 0, -3.75),
        (-56.522997634, -20.818927502, -3.75),
        (-66.148204257, -26.64367815, -3.75),
        (-120.810543828, -69.75, -3.75),
        (-56.148204257, -43.964186226, -3.75),
        (-46.291218914, -38.540888098, -3.75),
        (-30, -51.961524227, -3.75),
        (-10.23177872, -59.3598156, -3.75),
        (-10, -70.258623254, -3.75),
        (-10.176945108, -81.085208342, -3.75),
        (0, -139.5, -3.75),
        (10.176945108, -81.085208342, -3.75),
        (10, -70.258623254, -3.75),
        (10.23177872, -59.3598156, -3.75),
        (30, -51.961524227, -3.75),
        (46.291218914, -38.540888098, -3.75),
        (55.845752573, -43.789565665, -3.75),
        (65.133377741, -49.356097168, -3.75),
        (120.810543828, -69.75, -3.75),
        (-20, 109.5, -3.75),
        (74.829781714, 54.75, -3.75),
        (74.829781714, -54.75, -3.75),
        (-20, -109.5, -3.75),
        (-114.829781714, -54.75, -3.75),
        (-114.829781714, 54.75, -3.75),
        (-30.264697411, -11.5, -3.75),
        (-35, 0, -3.75),
        (-30.264697411, 11.5, -3.75),
        (0, 28, -3.75),
        (30.264697411, 11.5, -3.75),
        (35, 0, -3.75),
        (30.264697411, -11.5, -3.75),
        (0, -28, -3.75),
    ]]
    draft(boss_extrude1_other_way_sides, Plane.XY, BOSS_EXTRUDE1_OTHER_WAY_DRAFT)


with BuildPart() as part_1:
    add(part.part)

    # Boss-Extrude1 other way: add boss_extrude1_other_way_tool
    add(boss_extrude1_other_way_tool.part)


solid = part_1.part
